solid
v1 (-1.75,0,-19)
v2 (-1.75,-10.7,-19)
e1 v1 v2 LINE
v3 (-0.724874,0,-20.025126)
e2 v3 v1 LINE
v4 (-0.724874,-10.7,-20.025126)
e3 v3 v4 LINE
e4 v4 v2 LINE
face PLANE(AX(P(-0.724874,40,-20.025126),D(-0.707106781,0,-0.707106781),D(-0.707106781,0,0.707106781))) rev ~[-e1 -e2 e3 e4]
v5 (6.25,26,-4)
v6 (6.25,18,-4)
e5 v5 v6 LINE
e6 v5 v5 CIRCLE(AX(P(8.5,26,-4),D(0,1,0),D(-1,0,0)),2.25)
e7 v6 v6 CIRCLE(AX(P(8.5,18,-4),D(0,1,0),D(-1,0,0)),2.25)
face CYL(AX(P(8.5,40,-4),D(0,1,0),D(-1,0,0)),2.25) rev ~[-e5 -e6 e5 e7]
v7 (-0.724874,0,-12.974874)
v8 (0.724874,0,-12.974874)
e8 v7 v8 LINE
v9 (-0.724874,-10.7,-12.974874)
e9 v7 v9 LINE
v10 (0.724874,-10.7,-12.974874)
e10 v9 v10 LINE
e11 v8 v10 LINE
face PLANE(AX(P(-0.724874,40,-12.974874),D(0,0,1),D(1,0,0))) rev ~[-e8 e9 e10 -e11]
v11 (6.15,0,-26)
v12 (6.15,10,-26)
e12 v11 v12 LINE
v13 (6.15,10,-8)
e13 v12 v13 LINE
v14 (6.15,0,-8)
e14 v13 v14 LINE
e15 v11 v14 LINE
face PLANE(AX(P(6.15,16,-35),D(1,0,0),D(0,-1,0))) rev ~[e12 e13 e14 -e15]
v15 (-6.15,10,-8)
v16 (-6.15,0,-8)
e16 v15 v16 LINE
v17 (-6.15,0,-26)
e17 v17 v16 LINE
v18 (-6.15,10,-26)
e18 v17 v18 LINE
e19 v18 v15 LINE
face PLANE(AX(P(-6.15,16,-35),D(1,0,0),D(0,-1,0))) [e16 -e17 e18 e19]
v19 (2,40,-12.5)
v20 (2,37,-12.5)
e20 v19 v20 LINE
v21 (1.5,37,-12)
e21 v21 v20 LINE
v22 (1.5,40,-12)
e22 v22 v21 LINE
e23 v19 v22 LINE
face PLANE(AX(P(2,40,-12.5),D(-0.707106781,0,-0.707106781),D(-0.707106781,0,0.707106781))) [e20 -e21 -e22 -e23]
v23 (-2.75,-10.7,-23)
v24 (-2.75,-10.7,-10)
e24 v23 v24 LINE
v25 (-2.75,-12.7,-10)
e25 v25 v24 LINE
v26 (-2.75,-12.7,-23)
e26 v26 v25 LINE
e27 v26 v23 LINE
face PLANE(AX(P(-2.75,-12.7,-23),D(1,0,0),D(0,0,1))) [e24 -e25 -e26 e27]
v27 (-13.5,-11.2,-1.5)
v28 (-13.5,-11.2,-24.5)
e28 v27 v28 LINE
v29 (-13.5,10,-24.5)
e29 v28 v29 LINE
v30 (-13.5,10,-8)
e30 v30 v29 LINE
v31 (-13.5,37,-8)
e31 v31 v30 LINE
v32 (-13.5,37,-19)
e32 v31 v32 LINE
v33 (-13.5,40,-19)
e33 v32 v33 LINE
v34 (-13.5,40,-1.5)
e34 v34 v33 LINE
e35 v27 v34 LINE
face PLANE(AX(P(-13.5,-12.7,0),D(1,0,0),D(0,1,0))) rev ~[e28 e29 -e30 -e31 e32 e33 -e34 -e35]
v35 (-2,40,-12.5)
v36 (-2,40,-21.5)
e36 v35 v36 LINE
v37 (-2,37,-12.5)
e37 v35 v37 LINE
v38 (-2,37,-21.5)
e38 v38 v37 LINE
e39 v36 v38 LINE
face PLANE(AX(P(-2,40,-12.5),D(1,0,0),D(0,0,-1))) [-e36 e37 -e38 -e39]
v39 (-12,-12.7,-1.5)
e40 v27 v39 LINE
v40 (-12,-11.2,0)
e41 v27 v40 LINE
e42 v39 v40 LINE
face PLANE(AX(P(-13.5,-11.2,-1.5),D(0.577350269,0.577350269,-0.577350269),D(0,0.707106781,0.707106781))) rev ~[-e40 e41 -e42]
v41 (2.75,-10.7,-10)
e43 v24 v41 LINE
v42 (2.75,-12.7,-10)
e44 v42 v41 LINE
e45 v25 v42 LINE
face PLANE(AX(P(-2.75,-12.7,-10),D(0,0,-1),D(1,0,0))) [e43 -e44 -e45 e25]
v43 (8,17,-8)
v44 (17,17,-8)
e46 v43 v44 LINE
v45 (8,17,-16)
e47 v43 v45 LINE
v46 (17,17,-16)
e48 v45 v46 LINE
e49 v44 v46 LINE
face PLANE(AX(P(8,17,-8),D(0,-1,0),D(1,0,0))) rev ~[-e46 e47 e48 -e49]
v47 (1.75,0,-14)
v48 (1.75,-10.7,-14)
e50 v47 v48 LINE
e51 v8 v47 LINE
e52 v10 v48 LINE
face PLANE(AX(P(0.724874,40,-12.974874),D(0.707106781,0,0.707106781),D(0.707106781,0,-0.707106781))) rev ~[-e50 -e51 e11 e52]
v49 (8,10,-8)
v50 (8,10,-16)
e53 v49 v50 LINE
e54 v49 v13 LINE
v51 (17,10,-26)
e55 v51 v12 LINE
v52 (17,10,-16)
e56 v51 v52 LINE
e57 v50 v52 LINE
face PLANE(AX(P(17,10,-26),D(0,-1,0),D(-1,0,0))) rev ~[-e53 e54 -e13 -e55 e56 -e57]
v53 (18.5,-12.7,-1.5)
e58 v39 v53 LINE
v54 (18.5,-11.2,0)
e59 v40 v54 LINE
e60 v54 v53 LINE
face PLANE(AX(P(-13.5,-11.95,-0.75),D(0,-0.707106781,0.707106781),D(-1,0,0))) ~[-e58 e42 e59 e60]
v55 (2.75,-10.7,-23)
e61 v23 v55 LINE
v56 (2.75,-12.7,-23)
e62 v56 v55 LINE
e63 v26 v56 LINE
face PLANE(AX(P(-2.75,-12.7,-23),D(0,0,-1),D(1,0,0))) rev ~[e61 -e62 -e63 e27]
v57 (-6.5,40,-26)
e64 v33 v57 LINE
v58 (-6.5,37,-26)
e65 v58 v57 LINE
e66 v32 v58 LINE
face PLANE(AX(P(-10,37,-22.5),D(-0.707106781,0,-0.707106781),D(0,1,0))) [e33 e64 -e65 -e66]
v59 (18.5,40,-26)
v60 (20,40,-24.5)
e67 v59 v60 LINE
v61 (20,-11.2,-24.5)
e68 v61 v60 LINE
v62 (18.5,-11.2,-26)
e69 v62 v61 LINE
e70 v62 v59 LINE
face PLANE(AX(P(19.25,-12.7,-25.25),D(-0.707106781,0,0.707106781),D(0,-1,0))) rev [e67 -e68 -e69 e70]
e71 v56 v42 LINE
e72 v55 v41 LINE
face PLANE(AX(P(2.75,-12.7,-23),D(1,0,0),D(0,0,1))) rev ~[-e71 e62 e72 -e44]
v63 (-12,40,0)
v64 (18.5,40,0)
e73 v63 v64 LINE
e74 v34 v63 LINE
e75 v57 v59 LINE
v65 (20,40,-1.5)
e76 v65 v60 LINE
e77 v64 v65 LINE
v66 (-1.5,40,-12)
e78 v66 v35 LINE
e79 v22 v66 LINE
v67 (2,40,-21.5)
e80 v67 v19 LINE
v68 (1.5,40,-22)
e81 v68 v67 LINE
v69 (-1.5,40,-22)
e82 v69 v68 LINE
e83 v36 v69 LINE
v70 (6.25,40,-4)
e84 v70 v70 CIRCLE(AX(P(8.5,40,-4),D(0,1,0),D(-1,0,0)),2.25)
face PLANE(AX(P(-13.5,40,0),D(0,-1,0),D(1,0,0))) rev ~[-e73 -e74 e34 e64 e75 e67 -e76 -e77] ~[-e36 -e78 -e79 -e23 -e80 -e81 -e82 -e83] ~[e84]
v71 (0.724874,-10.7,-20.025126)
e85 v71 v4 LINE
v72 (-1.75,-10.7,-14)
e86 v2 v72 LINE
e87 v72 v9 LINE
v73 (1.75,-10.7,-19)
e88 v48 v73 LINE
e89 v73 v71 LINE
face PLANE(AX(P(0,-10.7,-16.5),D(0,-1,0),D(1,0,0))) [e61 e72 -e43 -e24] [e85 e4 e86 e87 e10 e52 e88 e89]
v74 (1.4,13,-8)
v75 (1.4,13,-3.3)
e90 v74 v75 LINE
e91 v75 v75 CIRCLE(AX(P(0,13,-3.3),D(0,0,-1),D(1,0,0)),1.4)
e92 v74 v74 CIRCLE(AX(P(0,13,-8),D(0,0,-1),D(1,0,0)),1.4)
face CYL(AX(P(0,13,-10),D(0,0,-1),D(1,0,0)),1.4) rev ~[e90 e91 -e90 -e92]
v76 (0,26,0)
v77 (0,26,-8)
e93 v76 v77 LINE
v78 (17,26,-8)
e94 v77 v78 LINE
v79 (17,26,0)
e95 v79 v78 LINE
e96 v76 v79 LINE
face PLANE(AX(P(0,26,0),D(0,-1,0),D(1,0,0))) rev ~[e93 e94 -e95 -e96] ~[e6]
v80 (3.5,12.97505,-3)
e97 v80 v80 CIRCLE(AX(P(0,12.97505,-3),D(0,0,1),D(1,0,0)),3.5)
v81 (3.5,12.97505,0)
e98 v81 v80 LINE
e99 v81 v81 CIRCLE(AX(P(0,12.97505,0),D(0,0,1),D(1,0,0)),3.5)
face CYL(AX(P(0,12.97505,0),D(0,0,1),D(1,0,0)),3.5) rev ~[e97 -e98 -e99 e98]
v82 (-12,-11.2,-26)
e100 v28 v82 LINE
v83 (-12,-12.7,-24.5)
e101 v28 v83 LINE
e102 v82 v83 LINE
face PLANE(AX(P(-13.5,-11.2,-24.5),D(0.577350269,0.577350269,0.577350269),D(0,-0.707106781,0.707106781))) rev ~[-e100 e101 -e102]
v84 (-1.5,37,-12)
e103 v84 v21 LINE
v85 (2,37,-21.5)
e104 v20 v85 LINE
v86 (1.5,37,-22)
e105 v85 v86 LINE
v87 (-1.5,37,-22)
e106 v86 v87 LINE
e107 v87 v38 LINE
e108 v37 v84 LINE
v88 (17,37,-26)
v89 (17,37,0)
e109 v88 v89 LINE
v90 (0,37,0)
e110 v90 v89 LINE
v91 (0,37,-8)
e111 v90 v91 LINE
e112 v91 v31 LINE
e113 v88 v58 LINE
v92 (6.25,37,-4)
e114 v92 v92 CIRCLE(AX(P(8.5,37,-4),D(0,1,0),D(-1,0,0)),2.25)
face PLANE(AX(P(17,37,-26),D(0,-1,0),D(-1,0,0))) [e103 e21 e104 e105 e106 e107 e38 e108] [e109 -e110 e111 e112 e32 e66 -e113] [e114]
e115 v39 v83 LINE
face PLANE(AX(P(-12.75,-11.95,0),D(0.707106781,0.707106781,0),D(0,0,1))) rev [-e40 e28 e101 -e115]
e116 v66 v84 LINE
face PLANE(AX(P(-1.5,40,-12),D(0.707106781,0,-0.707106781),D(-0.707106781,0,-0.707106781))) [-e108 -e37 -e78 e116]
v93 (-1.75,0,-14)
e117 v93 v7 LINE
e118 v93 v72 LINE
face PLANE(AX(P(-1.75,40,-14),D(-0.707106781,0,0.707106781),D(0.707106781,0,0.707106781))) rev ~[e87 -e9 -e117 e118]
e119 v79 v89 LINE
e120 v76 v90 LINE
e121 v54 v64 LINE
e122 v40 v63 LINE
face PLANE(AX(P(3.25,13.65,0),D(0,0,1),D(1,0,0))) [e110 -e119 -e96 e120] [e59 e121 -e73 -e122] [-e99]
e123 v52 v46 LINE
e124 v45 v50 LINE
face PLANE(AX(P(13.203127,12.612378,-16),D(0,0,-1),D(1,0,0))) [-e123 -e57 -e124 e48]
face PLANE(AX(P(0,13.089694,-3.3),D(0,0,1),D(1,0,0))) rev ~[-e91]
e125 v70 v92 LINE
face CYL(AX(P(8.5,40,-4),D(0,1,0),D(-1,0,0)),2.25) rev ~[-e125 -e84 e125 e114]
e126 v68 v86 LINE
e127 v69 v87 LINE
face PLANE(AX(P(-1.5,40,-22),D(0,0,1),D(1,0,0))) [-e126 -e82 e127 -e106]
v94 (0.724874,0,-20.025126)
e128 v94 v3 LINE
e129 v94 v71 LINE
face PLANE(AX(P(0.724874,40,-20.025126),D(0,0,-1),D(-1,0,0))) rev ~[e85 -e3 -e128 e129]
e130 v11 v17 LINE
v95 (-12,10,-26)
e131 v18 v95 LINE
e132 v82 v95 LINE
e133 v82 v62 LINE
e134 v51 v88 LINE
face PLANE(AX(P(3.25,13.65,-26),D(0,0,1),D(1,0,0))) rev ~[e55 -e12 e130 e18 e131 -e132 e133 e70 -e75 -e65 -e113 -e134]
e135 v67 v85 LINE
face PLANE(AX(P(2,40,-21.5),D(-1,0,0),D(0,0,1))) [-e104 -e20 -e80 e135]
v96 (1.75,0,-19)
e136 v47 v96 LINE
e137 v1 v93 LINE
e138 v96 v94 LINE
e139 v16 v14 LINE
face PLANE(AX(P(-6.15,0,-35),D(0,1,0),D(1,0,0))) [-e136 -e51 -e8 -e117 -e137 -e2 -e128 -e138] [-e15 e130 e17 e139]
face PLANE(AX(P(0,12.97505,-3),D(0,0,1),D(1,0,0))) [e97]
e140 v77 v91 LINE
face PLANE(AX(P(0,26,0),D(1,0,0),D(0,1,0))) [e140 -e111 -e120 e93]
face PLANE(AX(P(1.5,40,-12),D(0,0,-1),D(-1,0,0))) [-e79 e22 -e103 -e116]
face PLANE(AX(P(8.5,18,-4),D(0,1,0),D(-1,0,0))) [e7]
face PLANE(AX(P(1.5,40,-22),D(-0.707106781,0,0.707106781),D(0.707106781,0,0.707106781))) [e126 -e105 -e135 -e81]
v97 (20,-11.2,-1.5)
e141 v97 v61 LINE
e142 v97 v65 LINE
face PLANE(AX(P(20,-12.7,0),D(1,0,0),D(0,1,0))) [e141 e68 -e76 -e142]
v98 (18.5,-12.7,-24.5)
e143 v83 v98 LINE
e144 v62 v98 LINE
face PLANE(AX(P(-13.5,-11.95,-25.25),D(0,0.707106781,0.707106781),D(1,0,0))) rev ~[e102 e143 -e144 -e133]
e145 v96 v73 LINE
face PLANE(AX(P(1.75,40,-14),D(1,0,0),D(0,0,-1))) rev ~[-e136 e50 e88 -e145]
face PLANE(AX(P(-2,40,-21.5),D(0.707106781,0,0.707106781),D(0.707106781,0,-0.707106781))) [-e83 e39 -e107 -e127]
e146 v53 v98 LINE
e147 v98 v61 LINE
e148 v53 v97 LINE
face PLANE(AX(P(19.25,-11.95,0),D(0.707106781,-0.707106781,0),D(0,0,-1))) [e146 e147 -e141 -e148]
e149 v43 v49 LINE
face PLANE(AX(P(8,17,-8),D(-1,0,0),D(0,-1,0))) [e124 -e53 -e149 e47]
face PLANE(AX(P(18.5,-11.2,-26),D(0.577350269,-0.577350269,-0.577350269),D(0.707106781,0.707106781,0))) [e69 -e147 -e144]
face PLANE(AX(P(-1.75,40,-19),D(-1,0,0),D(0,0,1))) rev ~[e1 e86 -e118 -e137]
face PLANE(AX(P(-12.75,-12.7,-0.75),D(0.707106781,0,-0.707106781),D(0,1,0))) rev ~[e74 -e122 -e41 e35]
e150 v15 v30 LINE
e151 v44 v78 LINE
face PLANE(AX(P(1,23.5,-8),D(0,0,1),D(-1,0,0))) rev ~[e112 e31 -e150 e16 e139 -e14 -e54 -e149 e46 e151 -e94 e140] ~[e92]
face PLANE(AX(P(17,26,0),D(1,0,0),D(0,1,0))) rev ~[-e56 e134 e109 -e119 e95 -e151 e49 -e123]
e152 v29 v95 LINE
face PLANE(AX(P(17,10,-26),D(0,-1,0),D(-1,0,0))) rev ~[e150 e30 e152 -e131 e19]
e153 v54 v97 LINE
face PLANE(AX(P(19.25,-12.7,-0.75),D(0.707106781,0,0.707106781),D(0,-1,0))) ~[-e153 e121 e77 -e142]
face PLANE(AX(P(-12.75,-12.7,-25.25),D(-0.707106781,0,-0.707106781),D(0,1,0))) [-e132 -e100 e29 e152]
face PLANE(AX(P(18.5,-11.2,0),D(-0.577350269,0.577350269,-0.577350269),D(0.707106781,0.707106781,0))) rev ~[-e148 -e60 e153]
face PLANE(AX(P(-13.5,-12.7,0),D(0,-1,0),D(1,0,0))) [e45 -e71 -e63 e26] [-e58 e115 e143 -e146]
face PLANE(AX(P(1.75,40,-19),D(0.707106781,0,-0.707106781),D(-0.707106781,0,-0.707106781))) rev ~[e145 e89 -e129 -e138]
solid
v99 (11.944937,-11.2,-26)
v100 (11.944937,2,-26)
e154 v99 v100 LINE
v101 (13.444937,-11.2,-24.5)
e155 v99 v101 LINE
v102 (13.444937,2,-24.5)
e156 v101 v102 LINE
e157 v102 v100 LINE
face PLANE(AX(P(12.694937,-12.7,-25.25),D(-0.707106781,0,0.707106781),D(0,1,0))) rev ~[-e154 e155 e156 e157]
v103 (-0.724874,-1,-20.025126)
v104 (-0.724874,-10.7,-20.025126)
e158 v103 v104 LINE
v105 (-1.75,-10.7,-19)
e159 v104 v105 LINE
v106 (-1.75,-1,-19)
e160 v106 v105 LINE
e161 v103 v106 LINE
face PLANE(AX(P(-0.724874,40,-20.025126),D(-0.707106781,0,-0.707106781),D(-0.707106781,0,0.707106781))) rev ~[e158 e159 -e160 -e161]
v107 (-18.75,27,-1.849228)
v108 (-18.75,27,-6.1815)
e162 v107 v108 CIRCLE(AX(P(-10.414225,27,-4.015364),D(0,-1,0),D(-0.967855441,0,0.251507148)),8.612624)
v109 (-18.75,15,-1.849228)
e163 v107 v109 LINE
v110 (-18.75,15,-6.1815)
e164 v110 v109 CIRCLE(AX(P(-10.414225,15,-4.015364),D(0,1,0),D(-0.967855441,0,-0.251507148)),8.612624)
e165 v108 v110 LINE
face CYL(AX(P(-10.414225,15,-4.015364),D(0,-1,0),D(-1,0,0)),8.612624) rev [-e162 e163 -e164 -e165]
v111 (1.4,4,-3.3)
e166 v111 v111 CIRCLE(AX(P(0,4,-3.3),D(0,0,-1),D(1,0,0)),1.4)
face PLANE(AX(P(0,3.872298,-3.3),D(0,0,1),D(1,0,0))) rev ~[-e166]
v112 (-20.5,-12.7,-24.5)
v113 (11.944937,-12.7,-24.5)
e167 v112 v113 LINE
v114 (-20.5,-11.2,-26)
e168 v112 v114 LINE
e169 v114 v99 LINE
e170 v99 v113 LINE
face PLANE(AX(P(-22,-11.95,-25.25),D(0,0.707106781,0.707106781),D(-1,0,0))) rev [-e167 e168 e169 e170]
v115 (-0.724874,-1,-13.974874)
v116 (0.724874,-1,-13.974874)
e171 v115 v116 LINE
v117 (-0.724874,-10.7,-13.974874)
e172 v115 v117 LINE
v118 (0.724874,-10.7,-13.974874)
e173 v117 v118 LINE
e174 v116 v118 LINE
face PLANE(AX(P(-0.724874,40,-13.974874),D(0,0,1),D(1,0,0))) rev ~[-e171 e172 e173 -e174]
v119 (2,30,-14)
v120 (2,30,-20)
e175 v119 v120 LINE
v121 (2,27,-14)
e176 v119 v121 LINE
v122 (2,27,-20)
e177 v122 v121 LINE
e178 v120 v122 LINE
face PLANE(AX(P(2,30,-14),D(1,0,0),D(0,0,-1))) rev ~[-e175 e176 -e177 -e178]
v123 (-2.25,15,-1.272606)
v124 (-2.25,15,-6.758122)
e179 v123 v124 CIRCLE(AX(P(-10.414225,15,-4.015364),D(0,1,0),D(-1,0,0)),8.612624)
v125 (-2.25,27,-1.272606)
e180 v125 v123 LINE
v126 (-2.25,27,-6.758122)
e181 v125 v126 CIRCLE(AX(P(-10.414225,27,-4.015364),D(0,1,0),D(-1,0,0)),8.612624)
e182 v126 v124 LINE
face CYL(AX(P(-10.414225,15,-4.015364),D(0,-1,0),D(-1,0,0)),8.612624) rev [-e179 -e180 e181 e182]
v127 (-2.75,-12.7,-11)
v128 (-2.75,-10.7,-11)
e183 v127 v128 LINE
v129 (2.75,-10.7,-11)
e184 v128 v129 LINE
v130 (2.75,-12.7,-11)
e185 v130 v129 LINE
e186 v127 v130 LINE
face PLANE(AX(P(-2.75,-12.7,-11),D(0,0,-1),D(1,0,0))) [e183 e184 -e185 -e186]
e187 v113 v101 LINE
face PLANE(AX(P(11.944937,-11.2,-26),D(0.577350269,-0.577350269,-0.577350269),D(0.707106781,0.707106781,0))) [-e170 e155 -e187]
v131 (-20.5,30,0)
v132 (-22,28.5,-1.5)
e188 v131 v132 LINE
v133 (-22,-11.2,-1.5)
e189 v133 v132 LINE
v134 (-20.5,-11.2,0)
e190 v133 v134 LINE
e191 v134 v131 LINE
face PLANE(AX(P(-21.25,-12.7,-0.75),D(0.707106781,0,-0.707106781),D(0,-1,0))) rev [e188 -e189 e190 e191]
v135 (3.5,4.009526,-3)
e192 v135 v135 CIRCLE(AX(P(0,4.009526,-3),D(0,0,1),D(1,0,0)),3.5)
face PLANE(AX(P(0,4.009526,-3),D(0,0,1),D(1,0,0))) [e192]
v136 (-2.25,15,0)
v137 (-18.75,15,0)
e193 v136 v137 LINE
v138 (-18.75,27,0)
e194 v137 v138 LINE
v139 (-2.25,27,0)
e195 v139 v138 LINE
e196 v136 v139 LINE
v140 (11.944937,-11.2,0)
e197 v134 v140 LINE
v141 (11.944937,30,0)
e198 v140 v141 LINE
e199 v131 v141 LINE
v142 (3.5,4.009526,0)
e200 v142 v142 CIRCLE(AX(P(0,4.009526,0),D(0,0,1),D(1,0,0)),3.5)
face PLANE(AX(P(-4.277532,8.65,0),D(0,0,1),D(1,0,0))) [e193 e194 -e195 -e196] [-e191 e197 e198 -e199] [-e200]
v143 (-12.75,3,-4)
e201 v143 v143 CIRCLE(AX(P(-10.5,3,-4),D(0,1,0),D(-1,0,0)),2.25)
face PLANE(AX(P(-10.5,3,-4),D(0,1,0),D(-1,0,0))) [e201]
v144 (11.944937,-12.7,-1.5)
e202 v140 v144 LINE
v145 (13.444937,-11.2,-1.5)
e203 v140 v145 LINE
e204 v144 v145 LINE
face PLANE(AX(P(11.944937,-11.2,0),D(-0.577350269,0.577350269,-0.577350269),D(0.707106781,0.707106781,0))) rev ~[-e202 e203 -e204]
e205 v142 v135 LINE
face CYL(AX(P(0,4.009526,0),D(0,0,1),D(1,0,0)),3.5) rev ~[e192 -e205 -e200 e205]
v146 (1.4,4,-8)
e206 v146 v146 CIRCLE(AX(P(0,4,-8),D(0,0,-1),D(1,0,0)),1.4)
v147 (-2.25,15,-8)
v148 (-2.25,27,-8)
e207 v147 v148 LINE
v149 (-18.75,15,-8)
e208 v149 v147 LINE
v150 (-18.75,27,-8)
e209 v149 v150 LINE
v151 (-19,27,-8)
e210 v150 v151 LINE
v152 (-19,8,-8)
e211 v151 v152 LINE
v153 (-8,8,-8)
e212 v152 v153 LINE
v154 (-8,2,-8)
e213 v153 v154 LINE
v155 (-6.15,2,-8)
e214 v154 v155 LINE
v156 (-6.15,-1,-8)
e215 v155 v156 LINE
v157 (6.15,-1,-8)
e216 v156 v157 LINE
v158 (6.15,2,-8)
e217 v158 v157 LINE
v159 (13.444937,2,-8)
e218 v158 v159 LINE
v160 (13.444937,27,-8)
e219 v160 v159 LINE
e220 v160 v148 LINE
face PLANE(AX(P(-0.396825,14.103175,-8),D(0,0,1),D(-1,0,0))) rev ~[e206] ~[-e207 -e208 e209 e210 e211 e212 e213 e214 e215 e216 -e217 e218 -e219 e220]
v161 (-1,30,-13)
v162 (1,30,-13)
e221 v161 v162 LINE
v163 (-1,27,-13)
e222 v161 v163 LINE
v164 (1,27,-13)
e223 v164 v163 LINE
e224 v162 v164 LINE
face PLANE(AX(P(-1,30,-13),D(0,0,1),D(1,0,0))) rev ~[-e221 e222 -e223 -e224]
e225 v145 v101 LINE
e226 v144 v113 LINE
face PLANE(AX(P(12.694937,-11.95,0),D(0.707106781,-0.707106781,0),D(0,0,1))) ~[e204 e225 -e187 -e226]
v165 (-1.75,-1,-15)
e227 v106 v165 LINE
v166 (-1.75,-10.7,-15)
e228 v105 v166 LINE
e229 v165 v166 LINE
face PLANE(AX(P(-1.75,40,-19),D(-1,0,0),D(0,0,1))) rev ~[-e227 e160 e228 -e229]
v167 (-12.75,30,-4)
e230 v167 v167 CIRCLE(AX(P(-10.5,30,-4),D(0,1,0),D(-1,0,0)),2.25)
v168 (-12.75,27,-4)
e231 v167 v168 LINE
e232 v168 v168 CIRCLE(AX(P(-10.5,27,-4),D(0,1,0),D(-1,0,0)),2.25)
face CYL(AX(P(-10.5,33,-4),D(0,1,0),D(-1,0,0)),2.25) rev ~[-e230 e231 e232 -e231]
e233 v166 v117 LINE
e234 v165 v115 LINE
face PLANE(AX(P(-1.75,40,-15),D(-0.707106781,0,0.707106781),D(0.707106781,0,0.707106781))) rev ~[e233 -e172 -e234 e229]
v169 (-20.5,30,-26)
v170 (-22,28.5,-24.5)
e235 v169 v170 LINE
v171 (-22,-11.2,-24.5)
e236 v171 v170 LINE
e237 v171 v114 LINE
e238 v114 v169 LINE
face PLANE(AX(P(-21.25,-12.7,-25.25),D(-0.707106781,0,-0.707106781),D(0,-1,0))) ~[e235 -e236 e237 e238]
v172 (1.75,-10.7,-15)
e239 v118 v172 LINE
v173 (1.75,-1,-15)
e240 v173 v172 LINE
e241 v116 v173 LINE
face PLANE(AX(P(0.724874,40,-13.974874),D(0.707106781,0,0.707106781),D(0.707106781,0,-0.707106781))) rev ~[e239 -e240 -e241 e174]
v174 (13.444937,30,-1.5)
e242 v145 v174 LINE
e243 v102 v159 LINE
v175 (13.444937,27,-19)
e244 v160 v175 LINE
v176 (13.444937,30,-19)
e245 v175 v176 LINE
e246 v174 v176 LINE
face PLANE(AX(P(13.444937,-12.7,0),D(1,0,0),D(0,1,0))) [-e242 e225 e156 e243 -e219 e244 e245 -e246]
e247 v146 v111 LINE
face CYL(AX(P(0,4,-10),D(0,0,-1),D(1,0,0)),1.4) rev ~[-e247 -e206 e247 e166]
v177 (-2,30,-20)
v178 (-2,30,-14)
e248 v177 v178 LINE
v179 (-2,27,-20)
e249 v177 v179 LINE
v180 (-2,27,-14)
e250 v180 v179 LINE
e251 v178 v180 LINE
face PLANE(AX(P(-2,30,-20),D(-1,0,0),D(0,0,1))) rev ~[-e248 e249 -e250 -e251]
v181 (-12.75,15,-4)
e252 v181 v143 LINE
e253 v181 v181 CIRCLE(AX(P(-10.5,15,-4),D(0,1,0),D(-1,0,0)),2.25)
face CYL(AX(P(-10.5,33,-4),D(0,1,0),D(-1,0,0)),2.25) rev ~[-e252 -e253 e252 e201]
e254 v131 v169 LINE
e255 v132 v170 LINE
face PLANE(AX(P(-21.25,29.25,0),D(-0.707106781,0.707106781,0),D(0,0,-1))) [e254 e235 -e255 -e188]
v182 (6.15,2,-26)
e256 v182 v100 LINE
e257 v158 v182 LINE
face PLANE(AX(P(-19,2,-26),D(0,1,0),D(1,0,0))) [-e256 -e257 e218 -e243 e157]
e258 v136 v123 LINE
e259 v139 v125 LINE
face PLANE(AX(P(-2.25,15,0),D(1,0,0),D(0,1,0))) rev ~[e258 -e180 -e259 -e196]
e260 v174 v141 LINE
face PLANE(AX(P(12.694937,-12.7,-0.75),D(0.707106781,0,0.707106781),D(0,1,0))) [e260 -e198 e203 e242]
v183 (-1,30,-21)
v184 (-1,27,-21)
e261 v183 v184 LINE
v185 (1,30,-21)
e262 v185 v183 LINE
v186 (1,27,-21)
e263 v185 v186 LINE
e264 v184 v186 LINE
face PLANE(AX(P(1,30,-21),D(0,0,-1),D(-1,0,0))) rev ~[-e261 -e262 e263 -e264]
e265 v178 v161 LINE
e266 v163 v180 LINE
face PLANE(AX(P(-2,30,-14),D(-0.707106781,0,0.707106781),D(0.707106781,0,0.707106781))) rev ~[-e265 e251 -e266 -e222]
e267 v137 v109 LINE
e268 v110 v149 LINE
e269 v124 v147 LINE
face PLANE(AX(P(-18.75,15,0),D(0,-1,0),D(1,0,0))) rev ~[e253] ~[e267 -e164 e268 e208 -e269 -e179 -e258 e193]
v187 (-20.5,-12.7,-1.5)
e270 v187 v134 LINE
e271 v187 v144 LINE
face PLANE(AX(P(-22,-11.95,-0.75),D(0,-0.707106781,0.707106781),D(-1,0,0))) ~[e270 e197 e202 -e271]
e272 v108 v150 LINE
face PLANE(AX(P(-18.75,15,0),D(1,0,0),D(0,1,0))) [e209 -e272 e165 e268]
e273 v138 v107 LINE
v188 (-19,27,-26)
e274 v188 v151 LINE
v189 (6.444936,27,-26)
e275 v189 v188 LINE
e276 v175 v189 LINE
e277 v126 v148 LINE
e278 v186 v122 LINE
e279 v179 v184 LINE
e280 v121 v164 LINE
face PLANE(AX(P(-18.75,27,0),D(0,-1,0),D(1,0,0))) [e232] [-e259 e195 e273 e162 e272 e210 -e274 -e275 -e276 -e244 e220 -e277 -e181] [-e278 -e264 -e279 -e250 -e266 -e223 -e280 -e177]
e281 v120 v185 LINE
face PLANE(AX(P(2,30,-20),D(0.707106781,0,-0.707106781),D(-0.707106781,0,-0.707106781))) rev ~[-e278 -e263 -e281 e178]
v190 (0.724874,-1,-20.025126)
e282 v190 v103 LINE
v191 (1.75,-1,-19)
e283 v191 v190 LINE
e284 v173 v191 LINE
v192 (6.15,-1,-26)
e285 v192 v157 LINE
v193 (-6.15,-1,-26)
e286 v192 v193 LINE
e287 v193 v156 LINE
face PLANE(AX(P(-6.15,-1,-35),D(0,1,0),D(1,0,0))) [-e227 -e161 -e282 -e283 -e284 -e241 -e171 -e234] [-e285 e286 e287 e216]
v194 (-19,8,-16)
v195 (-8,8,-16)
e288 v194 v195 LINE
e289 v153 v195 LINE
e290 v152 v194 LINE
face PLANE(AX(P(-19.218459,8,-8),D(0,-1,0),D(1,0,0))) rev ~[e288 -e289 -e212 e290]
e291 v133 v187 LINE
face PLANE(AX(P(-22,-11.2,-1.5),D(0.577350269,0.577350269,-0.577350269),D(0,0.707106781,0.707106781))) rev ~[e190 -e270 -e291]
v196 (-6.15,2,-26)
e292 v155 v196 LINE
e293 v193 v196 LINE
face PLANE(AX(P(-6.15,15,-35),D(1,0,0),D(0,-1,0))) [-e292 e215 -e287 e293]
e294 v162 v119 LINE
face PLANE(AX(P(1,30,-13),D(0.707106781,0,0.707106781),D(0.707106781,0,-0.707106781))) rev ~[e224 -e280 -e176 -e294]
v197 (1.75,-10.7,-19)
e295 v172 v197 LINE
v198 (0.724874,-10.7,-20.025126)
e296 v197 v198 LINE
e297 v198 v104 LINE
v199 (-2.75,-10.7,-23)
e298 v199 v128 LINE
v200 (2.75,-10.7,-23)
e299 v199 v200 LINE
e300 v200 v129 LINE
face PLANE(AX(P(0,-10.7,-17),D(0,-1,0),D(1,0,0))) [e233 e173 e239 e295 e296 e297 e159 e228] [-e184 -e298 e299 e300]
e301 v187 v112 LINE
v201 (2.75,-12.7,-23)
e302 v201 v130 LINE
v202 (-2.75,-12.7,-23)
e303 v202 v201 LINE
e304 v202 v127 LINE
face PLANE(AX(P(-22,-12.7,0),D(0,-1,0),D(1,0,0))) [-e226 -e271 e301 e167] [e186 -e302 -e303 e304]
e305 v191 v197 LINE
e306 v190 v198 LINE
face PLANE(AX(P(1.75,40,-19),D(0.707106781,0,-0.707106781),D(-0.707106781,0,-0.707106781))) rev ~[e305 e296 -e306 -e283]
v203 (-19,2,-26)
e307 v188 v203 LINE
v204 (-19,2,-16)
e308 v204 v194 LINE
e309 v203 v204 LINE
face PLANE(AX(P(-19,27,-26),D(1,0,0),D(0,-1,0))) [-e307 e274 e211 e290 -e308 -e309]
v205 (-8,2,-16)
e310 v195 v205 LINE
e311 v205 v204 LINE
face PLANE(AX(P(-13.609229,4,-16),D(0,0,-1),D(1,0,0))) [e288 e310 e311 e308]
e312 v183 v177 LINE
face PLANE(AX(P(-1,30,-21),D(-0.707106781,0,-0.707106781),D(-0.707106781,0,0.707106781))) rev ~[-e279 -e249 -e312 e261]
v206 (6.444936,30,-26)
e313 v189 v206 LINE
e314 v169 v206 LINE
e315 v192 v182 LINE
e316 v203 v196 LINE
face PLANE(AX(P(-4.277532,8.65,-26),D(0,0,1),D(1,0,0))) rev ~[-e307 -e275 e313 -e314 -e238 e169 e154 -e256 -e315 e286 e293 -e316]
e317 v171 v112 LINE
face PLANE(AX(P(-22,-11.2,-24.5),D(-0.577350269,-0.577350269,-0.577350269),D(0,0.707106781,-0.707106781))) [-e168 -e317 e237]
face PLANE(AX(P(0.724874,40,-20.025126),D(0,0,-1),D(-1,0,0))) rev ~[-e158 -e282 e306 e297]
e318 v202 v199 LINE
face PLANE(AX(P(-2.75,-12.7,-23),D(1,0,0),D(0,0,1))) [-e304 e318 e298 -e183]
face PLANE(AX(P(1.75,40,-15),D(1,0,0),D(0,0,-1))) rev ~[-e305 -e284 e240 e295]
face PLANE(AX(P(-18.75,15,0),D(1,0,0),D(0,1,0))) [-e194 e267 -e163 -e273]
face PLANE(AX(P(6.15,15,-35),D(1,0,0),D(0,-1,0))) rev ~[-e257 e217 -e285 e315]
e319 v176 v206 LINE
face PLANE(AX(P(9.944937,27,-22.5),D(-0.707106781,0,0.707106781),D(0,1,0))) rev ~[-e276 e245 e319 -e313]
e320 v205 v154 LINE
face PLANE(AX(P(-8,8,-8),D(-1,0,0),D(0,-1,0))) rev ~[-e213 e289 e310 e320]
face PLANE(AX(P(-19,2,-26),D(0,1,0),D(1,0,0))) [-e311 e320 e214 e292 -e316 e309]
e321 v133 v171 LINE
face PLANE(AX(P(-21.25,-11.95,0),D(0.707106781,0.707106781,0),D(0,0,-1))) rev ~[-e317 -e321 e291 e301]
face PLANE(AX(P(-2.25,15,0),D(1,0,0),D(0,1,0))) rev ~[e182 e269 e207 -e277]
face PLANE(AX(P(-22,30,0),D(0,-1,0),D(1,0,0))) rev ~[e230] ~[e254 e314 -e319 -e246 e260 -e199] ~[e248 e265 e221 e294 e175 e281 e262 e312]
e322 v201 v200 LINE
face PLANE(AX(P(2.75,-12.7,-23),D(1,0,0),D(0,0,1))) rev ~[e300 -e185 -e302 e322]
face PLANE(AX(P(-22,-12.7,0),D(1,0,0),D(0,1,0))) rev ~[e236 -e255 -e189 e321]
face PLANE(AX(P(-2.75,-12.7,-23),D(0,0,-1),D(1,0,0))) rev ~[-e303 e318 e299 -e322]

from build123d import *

# Parameters (mm, degrees)
SKETCH001_W     = 33.5
SKETCH001_H     = 52.7
PAD_DEPTH       = 26
POCKET_DEPTH    = 18
SKETCH003_W     = 17
SKETCH003_H     = 11
POCKET001_DEPTH = 26.001
SKETCH004_W     = 12.3
SKETCH004_H     = 16
POCKET002_DEPTH = 27
POCKET012_DEPTH = 52.701
SKETCH018_W     = 5.5
SKETCH018_H     = 13
POCKET013_DEPTH = 2
POCKET014_DEPTH = 5
SKETCH006_R     = 1.4
POCKET015_DEPTH = 10.001
SKETCH005_R     = 2.25
POCKET016_DEPTH = 22
SKETCH017_W     = 10.406255
SKETCH017_H     = 8.775244
PAD003_DEPTH    = 8
CHAMFER_SIZE    = 7
CHAMFER004_SIZE = 1.5
SKETCH023_R     = 3.5
POCKET020_DEPTH = 3
SKETCH024_R     = 1.752011
PAD005_DEPTH    = 0.3
SKETCH012_W     = 35.444937
SKETCH012_H     = 42.7
PAD001_DEPTH    = 26
POCKET006_DEPTH = 18
SKETCH008_W     = 16.5
SKETCH008_H     = 12
POCKET007_DEPTH = 26.001
SKETCH010_R     = 2.25
POCKET008_DEPTH = 30
SKETCH014_W     = 12.3
SKETCH014_H     = 16
POCKET009_DEPTH = 27
SKETCH011_R     = 1.4
POCKET010_DEPTH = 10.001
POCKET011_DEPTH = 52.701
POCKET017_DEPTH = 5
SKETCH016_W     = 11.218459
SKETCH016_H     = 8
PAD004_DEPTH    = 8
SKETCH021_W     = 5.5
SKETCH021_H     = 12
POCKET018_DEPTH = 2
CHAMFER002_SIZE = 7
CHAMFER003_SIZE = 1.5
SKETCH022_R     = 8.612624
POCKET019_DEPTH = 12
SKETCH025_R     = 3.5
POCKET021_DEPTH = 3
SKETCH026_R     = 2.076853
PAD006_DEPTH    = 0.3


with BuildPart() as xtensioner:
    # Sketch001 → Pad (new body)
    with BuildSketch(Plane.XY):
        with Locations((3.25, 13.65)):
            Rectangle(SKETCH001_W, SKETCH001_H)
    extrude(amount=-PAD_DEPTH)

    # Sketch002 (on Face6 of Pad) → Pocket (cut)
    with BuildSketch(Plane(origin=(0, 0, -26), x_dir=(1, 0, 0), z_dir=(0, 0, -1))):
        Polygon((-15, -10), (15, -10), (15, -10), (17, -10), (17, -37), (-15, -37), align=None)
    extrude(amount=-POCKET_DEPTH, mode=Mode.SUBTRACT)

    # Sketch003 → Pocket001 (cut, through all)
    with BuildSketch(Plane.XY):
        with Locations((8.5, 31.5)):
            Rectangle(SKETCH003_W, SKETCH003_H)
    extrude(amount=-POCKET001_DEPTH, mode=Mode.SUBTRACT)

    # Sketch004 → Pocket002 (cut)
    with BuildSketch(Plane(origin=(0, 0, -35), x_dir=(1, 0, 0), z_dir=(0, 0, -1))):
        with Locations((0, -8)):
            Rectangle(SKETCH004_W, SKETCH004_H)
    extrude(amount=-POCKET002_DEPTH, mode=Mode.SUBTRACT)

    # Sketch007 (on Face9 of Pocket002) → Pocket012 (cut, through all)
    with BuildSketch(Plane(origin=(0, 40, 0), x_dir=(-1, 0, 0), z_dir=(0, 1, 0))):
        Polygon((-1.75, -14), (-1.75, -19), (-0.724874, -20.025126), (0.724874, -20.025126), (1.75, -19), (1.75, -14), (0.724874, -12.974874), (-0.724874, -12.974874), align=None)
    extrude(amount=-POCKET012_DEPTH, mode=Mode.SUBTRACT)

    # Sketch018 (on Face1 of Pocket012) → Pocket013 (cut)
    with BuildSketch(Plane.XZ.offset(12.7)):
        with Locations((0, -16.5)):
            Rectangle(SKETCH018_W, SKETCH018_H)
    extrude(amount=-POCKET013_DEPTH, mode=Mode.SUBTRACT)

    # Sketch019 (on Face13 of Pocket013) → Pocket014 (cut)
    with BuildSketch(Plane(origin=(0, 40, 0), x_dir=(-1, 0, 0), z_dir=(0, 1, 0))):
        Polygon((-1.5, -12), (1.5, -12), (2, -12.5), (2, -21.5), (1.5, -22), (-1.5, -22), (-2, -21.5), (-2, -12.5), align=None)
    extrude(amount=-POCKET014_DEPTH, mode=Mode.SUBTRACT)

    # Sketch006 → Pocket015 (cut, through all)
    with BuildSketch(Plane(origin=(0, 0, -10), x_dir=(1, 0, 0), z_dir=(0, 0, -1))):
        with Locations((0, -13)):
            Circle(SKETCH006_R)
    extrude(amount=-POCKET015_DEPTH, mode=Mode.SUBTRACT)

    # Sketch005 → Pocket016 (cut)
    with BuildSketch(Plane(origin=(0, 40, 0), x_dir=(-1, 0, 0), z_dir=(0, 1, 0))):
        with Locations((-8.5, -4)):
            Circle(SKETCH005_R)
    extrude(amount=-POCKET016_DEPTH, mode=Mode.SUBTRACT)

    # Sketch017 → Pad003 (join)
    with BuildSketch(Plane(origin=(0, 0, -8), x_dir=(1, 0, 0), z_dir=(0, 0, -1))):
        with Locations((13.203127, -12.612378)):
            Rectangle(SKETCH017_W, SKETCH017_H)
    extrude(amount=PAD003_DEPTH)

    # Chamfer
    chamfer_edges = [xtensioner.edges().sort_by_distance(p)[0] for p in [
        (-13.5, 38.5, -26),
    ]]
    chamfer(chamfer_edges, length=CHAMFER_SIZE)

    # Chamfer004
    chamfer004_edges = [xtensioner.edges().sort_by_distance(p)[0] for p in [
        (20, -12.7, -13),
        (3.25, -12.7, -26),
        (3.25, -12.7, 0),
        (20, 13.65, 0),
        (20, 13.65, -26),
        (-13.5, -1.35, -26),
        (-13.5, -12.7, -13),
        (-13.5, 13.65, 0),
    ]]
    chamfer(chamfer004_edges, length=CHAMFER004_SIZE)

    # Sketch023 (on Face14 of Chamfer004) → Pocket020 (cut)
    with BuildSketch(Plane.XY):
        with Locations((0, 12.97505)):
            Circle(SKETCH023_R)
    extrude(amount=-POCKET020_DEPTH, mode=Mode.SUBTRACT)

    # Sketch024 (on Face64 of Pocket020) → Pad005 (join)
    with BuildSketch(Plane.XY.offset(-3)):
        with Locations((0, 13.089694)):
            Circle(SKETCH024_R)
    extrude(amount=-PAD005_DEPTH)


with BuildPart() as y_tensioner:
    # Sketch012 → Pad001 (new body)
    with BuildSketch(Plane.XY):
        with Locations((-4.277532, 8.65)):
            Rectangle(SKETCH012_W, SKETCH012_H)
    extrude(amount=-PAD001_DEPTH)

    # Sketch013 (on Face6 of Pad001) → Pocket006 (cut)
    with BuildSketch(Plane(origin=(0, 0, -26), x_dir=(1, 0, 0), z_dir=(0, 0, -1))):
        Polygon((-19, -2), (19, -2), (19, -2), (17, -2), (17, -27), (-19, -27), align=None)
    extrude(amount=-POCKET006_DEPTH, mode=Mode.SUBTRACT)

    # Sketch008 → Pocket007 (cut, through all)
    with BuildSketch(Plane.XY):
        with Locations((-10.5, 21)):
            Rectangle(SKETCH008_W, SKETCH008_H)
    extrude(amount=-POCKET007_DEPTH, mode=Mode.SUBTRACT)

    # Sketch010 → Pocket008 (cut)
    with BuildSketch(Plane(origin=(0, 33, 0), x_dir=(-1, 0, 0), z_dir=(0, 1, 0))):
        with Locations((10.5, -4)):
            Circle(SKETCH010_R)
    extrude(amount=-POCKET008_DEPTH, mode=Mode.SUBTRACT)

    # Sketch014 → Pocket009 (cut)
    with BuildSketch(Plane(origin=(0, 0, -35), x_dir=(1, 0, 0), z_dir=(0, 0, -1))):
        with Locations((0, -7)):
            Rectangle(SKETCH014_W, SKETCH014_H)
    extrude(amount=-POCKET009_DEPTH, mode=Mode.SUBTRACT)

    # Sketch011 → Pocket010 (cut, through all)
    with BuildSketch(Plane(origin=(0, 0, -10), x_dir=(1, 0, 0), z_dir=(0, 0, -1))):
        with Locations((0, -4)):
            Circle(SKETCH011_R)
    extrude(amount=-POCKET010_DEPTH, mode=Mode.SUBTRACT)

    # Sketch015 (on Face9 of Pocket002) → Pocket011 (cut, through all)
    with BuildSketch(Plane(origin=(0, 40, 0), x_dir=(-1, 0, 0), z_dir=(0, 1, 0))):
        Polygon((-1.75, -15), (-1.75, -19), (-0.724874, -20.025126), (0.724874, -20.025126), (1.75, -19), (1.75, -15), (0.724874, -13.974874), (-0.724874, -13.974874), align=None)
    extrude(amount=-POCKET011_DEPTH, mode=Mode.SUBTRACT)

    # Sketch020 (on Face14 of Pocket011) → Pocket017 (cut)
    with BuildSketch(Plane(origin=(0, 30, 0), x_dir=(-1, 0, 0), z_dir=(0, 1, 0))):
        Polygon((-2, -14), (-2, -20), (-1, -21), (1, -21), (2, -20), (2, -14), (1, -13), (-1, -13), align=None)
    extrude(amount=-POCKET017_DEPTH, mode=Mode.SUBTRACT)

    # Sketch016 (on Face40 of Pocket017) → Pad004 (join)
    with BuildSketch(Plane(origin=(0, 0, -8), x_dir=(1, 0, 0), z_dir=(0, 0, -1))):
        with Locations((-13.609229, -4)):
            Rectangle(SKETCH016_W, SKETCH016_H)
    extrude(amount=PAD004_DEPTH)

    # Sketch021 → Pocket018 (cut)
    with BuildSketch(Plane.XZ.offset(12.7)):
        with Locations((0, -17)):
            Rectangle(SKETCH021_W, SKETCH021_H)
    extrude(amount=-POCKET018_DEPTH, mode=Mode.SUBTRACT)

    # Chamfer002
    chamfer002_edges = [y_tensioner.edges().sort_by_distance(p)[0] for p in [
        (13.444937, 28.5, -26),
    ]]
    chamfer(chamfer002_edges, length=CHAMFER002_SIZE)

    # Chamfer003
    chamfer003_edges = [y_tensioner.edges().sort_by_distance(p)[0] for p in [
        (13.444937, -12.7, -13),
        (-4.277532, -12.7, -26),
        (-4.277532, -12.7, 0),
        (-22, -12.7, -13),
        (-22, 8.65, 0),
        (13.444937, 8.65, 0),
        (13.444937, -5.35, -26),
        (-22, 8.65, -26),
        (-22, 30, -13),
    ]]
    chamfer(chamfer003_edges, length=CHAMFER003_SIZE)

    # Sketch022 (on Face54 of Chamfer003) → Pocket019 (cut)
    with BuildSketch(Plane(origin=(0, 15, 0), x_dir=(-1, 0, 0), z_dir=(0, 1, 0))):
        with Locations((10.414225, -4.015364)):
            Circle(SKETCH022_R)
    extrude(amount=POCKET019_DEPTH, mode=Mode.SUBTRACT)

    # Sketch025 (on Face18 of Pocket019) → Pocket021 (cut)
    with BuildSketch(Plane.XY):
        with Locations((0, 4.009526)):
            Circle(SKETCH025_R)
    extrude(amount=-POCKET021_DEPTH, mode=Mode.SUBTRACT)

    # Sketch026 (on Face74 of Pocket021) → Pad006 (join)
    with BuildSketch(Plane.XY.offset(-3)):
        with Locations((0, 3.872298)):
            Circle(SKETCH026_R)
    extrude(amount=-PAD006_DEPTH)


solid = Compound([xtensioner.part, y_tensioner.part])
